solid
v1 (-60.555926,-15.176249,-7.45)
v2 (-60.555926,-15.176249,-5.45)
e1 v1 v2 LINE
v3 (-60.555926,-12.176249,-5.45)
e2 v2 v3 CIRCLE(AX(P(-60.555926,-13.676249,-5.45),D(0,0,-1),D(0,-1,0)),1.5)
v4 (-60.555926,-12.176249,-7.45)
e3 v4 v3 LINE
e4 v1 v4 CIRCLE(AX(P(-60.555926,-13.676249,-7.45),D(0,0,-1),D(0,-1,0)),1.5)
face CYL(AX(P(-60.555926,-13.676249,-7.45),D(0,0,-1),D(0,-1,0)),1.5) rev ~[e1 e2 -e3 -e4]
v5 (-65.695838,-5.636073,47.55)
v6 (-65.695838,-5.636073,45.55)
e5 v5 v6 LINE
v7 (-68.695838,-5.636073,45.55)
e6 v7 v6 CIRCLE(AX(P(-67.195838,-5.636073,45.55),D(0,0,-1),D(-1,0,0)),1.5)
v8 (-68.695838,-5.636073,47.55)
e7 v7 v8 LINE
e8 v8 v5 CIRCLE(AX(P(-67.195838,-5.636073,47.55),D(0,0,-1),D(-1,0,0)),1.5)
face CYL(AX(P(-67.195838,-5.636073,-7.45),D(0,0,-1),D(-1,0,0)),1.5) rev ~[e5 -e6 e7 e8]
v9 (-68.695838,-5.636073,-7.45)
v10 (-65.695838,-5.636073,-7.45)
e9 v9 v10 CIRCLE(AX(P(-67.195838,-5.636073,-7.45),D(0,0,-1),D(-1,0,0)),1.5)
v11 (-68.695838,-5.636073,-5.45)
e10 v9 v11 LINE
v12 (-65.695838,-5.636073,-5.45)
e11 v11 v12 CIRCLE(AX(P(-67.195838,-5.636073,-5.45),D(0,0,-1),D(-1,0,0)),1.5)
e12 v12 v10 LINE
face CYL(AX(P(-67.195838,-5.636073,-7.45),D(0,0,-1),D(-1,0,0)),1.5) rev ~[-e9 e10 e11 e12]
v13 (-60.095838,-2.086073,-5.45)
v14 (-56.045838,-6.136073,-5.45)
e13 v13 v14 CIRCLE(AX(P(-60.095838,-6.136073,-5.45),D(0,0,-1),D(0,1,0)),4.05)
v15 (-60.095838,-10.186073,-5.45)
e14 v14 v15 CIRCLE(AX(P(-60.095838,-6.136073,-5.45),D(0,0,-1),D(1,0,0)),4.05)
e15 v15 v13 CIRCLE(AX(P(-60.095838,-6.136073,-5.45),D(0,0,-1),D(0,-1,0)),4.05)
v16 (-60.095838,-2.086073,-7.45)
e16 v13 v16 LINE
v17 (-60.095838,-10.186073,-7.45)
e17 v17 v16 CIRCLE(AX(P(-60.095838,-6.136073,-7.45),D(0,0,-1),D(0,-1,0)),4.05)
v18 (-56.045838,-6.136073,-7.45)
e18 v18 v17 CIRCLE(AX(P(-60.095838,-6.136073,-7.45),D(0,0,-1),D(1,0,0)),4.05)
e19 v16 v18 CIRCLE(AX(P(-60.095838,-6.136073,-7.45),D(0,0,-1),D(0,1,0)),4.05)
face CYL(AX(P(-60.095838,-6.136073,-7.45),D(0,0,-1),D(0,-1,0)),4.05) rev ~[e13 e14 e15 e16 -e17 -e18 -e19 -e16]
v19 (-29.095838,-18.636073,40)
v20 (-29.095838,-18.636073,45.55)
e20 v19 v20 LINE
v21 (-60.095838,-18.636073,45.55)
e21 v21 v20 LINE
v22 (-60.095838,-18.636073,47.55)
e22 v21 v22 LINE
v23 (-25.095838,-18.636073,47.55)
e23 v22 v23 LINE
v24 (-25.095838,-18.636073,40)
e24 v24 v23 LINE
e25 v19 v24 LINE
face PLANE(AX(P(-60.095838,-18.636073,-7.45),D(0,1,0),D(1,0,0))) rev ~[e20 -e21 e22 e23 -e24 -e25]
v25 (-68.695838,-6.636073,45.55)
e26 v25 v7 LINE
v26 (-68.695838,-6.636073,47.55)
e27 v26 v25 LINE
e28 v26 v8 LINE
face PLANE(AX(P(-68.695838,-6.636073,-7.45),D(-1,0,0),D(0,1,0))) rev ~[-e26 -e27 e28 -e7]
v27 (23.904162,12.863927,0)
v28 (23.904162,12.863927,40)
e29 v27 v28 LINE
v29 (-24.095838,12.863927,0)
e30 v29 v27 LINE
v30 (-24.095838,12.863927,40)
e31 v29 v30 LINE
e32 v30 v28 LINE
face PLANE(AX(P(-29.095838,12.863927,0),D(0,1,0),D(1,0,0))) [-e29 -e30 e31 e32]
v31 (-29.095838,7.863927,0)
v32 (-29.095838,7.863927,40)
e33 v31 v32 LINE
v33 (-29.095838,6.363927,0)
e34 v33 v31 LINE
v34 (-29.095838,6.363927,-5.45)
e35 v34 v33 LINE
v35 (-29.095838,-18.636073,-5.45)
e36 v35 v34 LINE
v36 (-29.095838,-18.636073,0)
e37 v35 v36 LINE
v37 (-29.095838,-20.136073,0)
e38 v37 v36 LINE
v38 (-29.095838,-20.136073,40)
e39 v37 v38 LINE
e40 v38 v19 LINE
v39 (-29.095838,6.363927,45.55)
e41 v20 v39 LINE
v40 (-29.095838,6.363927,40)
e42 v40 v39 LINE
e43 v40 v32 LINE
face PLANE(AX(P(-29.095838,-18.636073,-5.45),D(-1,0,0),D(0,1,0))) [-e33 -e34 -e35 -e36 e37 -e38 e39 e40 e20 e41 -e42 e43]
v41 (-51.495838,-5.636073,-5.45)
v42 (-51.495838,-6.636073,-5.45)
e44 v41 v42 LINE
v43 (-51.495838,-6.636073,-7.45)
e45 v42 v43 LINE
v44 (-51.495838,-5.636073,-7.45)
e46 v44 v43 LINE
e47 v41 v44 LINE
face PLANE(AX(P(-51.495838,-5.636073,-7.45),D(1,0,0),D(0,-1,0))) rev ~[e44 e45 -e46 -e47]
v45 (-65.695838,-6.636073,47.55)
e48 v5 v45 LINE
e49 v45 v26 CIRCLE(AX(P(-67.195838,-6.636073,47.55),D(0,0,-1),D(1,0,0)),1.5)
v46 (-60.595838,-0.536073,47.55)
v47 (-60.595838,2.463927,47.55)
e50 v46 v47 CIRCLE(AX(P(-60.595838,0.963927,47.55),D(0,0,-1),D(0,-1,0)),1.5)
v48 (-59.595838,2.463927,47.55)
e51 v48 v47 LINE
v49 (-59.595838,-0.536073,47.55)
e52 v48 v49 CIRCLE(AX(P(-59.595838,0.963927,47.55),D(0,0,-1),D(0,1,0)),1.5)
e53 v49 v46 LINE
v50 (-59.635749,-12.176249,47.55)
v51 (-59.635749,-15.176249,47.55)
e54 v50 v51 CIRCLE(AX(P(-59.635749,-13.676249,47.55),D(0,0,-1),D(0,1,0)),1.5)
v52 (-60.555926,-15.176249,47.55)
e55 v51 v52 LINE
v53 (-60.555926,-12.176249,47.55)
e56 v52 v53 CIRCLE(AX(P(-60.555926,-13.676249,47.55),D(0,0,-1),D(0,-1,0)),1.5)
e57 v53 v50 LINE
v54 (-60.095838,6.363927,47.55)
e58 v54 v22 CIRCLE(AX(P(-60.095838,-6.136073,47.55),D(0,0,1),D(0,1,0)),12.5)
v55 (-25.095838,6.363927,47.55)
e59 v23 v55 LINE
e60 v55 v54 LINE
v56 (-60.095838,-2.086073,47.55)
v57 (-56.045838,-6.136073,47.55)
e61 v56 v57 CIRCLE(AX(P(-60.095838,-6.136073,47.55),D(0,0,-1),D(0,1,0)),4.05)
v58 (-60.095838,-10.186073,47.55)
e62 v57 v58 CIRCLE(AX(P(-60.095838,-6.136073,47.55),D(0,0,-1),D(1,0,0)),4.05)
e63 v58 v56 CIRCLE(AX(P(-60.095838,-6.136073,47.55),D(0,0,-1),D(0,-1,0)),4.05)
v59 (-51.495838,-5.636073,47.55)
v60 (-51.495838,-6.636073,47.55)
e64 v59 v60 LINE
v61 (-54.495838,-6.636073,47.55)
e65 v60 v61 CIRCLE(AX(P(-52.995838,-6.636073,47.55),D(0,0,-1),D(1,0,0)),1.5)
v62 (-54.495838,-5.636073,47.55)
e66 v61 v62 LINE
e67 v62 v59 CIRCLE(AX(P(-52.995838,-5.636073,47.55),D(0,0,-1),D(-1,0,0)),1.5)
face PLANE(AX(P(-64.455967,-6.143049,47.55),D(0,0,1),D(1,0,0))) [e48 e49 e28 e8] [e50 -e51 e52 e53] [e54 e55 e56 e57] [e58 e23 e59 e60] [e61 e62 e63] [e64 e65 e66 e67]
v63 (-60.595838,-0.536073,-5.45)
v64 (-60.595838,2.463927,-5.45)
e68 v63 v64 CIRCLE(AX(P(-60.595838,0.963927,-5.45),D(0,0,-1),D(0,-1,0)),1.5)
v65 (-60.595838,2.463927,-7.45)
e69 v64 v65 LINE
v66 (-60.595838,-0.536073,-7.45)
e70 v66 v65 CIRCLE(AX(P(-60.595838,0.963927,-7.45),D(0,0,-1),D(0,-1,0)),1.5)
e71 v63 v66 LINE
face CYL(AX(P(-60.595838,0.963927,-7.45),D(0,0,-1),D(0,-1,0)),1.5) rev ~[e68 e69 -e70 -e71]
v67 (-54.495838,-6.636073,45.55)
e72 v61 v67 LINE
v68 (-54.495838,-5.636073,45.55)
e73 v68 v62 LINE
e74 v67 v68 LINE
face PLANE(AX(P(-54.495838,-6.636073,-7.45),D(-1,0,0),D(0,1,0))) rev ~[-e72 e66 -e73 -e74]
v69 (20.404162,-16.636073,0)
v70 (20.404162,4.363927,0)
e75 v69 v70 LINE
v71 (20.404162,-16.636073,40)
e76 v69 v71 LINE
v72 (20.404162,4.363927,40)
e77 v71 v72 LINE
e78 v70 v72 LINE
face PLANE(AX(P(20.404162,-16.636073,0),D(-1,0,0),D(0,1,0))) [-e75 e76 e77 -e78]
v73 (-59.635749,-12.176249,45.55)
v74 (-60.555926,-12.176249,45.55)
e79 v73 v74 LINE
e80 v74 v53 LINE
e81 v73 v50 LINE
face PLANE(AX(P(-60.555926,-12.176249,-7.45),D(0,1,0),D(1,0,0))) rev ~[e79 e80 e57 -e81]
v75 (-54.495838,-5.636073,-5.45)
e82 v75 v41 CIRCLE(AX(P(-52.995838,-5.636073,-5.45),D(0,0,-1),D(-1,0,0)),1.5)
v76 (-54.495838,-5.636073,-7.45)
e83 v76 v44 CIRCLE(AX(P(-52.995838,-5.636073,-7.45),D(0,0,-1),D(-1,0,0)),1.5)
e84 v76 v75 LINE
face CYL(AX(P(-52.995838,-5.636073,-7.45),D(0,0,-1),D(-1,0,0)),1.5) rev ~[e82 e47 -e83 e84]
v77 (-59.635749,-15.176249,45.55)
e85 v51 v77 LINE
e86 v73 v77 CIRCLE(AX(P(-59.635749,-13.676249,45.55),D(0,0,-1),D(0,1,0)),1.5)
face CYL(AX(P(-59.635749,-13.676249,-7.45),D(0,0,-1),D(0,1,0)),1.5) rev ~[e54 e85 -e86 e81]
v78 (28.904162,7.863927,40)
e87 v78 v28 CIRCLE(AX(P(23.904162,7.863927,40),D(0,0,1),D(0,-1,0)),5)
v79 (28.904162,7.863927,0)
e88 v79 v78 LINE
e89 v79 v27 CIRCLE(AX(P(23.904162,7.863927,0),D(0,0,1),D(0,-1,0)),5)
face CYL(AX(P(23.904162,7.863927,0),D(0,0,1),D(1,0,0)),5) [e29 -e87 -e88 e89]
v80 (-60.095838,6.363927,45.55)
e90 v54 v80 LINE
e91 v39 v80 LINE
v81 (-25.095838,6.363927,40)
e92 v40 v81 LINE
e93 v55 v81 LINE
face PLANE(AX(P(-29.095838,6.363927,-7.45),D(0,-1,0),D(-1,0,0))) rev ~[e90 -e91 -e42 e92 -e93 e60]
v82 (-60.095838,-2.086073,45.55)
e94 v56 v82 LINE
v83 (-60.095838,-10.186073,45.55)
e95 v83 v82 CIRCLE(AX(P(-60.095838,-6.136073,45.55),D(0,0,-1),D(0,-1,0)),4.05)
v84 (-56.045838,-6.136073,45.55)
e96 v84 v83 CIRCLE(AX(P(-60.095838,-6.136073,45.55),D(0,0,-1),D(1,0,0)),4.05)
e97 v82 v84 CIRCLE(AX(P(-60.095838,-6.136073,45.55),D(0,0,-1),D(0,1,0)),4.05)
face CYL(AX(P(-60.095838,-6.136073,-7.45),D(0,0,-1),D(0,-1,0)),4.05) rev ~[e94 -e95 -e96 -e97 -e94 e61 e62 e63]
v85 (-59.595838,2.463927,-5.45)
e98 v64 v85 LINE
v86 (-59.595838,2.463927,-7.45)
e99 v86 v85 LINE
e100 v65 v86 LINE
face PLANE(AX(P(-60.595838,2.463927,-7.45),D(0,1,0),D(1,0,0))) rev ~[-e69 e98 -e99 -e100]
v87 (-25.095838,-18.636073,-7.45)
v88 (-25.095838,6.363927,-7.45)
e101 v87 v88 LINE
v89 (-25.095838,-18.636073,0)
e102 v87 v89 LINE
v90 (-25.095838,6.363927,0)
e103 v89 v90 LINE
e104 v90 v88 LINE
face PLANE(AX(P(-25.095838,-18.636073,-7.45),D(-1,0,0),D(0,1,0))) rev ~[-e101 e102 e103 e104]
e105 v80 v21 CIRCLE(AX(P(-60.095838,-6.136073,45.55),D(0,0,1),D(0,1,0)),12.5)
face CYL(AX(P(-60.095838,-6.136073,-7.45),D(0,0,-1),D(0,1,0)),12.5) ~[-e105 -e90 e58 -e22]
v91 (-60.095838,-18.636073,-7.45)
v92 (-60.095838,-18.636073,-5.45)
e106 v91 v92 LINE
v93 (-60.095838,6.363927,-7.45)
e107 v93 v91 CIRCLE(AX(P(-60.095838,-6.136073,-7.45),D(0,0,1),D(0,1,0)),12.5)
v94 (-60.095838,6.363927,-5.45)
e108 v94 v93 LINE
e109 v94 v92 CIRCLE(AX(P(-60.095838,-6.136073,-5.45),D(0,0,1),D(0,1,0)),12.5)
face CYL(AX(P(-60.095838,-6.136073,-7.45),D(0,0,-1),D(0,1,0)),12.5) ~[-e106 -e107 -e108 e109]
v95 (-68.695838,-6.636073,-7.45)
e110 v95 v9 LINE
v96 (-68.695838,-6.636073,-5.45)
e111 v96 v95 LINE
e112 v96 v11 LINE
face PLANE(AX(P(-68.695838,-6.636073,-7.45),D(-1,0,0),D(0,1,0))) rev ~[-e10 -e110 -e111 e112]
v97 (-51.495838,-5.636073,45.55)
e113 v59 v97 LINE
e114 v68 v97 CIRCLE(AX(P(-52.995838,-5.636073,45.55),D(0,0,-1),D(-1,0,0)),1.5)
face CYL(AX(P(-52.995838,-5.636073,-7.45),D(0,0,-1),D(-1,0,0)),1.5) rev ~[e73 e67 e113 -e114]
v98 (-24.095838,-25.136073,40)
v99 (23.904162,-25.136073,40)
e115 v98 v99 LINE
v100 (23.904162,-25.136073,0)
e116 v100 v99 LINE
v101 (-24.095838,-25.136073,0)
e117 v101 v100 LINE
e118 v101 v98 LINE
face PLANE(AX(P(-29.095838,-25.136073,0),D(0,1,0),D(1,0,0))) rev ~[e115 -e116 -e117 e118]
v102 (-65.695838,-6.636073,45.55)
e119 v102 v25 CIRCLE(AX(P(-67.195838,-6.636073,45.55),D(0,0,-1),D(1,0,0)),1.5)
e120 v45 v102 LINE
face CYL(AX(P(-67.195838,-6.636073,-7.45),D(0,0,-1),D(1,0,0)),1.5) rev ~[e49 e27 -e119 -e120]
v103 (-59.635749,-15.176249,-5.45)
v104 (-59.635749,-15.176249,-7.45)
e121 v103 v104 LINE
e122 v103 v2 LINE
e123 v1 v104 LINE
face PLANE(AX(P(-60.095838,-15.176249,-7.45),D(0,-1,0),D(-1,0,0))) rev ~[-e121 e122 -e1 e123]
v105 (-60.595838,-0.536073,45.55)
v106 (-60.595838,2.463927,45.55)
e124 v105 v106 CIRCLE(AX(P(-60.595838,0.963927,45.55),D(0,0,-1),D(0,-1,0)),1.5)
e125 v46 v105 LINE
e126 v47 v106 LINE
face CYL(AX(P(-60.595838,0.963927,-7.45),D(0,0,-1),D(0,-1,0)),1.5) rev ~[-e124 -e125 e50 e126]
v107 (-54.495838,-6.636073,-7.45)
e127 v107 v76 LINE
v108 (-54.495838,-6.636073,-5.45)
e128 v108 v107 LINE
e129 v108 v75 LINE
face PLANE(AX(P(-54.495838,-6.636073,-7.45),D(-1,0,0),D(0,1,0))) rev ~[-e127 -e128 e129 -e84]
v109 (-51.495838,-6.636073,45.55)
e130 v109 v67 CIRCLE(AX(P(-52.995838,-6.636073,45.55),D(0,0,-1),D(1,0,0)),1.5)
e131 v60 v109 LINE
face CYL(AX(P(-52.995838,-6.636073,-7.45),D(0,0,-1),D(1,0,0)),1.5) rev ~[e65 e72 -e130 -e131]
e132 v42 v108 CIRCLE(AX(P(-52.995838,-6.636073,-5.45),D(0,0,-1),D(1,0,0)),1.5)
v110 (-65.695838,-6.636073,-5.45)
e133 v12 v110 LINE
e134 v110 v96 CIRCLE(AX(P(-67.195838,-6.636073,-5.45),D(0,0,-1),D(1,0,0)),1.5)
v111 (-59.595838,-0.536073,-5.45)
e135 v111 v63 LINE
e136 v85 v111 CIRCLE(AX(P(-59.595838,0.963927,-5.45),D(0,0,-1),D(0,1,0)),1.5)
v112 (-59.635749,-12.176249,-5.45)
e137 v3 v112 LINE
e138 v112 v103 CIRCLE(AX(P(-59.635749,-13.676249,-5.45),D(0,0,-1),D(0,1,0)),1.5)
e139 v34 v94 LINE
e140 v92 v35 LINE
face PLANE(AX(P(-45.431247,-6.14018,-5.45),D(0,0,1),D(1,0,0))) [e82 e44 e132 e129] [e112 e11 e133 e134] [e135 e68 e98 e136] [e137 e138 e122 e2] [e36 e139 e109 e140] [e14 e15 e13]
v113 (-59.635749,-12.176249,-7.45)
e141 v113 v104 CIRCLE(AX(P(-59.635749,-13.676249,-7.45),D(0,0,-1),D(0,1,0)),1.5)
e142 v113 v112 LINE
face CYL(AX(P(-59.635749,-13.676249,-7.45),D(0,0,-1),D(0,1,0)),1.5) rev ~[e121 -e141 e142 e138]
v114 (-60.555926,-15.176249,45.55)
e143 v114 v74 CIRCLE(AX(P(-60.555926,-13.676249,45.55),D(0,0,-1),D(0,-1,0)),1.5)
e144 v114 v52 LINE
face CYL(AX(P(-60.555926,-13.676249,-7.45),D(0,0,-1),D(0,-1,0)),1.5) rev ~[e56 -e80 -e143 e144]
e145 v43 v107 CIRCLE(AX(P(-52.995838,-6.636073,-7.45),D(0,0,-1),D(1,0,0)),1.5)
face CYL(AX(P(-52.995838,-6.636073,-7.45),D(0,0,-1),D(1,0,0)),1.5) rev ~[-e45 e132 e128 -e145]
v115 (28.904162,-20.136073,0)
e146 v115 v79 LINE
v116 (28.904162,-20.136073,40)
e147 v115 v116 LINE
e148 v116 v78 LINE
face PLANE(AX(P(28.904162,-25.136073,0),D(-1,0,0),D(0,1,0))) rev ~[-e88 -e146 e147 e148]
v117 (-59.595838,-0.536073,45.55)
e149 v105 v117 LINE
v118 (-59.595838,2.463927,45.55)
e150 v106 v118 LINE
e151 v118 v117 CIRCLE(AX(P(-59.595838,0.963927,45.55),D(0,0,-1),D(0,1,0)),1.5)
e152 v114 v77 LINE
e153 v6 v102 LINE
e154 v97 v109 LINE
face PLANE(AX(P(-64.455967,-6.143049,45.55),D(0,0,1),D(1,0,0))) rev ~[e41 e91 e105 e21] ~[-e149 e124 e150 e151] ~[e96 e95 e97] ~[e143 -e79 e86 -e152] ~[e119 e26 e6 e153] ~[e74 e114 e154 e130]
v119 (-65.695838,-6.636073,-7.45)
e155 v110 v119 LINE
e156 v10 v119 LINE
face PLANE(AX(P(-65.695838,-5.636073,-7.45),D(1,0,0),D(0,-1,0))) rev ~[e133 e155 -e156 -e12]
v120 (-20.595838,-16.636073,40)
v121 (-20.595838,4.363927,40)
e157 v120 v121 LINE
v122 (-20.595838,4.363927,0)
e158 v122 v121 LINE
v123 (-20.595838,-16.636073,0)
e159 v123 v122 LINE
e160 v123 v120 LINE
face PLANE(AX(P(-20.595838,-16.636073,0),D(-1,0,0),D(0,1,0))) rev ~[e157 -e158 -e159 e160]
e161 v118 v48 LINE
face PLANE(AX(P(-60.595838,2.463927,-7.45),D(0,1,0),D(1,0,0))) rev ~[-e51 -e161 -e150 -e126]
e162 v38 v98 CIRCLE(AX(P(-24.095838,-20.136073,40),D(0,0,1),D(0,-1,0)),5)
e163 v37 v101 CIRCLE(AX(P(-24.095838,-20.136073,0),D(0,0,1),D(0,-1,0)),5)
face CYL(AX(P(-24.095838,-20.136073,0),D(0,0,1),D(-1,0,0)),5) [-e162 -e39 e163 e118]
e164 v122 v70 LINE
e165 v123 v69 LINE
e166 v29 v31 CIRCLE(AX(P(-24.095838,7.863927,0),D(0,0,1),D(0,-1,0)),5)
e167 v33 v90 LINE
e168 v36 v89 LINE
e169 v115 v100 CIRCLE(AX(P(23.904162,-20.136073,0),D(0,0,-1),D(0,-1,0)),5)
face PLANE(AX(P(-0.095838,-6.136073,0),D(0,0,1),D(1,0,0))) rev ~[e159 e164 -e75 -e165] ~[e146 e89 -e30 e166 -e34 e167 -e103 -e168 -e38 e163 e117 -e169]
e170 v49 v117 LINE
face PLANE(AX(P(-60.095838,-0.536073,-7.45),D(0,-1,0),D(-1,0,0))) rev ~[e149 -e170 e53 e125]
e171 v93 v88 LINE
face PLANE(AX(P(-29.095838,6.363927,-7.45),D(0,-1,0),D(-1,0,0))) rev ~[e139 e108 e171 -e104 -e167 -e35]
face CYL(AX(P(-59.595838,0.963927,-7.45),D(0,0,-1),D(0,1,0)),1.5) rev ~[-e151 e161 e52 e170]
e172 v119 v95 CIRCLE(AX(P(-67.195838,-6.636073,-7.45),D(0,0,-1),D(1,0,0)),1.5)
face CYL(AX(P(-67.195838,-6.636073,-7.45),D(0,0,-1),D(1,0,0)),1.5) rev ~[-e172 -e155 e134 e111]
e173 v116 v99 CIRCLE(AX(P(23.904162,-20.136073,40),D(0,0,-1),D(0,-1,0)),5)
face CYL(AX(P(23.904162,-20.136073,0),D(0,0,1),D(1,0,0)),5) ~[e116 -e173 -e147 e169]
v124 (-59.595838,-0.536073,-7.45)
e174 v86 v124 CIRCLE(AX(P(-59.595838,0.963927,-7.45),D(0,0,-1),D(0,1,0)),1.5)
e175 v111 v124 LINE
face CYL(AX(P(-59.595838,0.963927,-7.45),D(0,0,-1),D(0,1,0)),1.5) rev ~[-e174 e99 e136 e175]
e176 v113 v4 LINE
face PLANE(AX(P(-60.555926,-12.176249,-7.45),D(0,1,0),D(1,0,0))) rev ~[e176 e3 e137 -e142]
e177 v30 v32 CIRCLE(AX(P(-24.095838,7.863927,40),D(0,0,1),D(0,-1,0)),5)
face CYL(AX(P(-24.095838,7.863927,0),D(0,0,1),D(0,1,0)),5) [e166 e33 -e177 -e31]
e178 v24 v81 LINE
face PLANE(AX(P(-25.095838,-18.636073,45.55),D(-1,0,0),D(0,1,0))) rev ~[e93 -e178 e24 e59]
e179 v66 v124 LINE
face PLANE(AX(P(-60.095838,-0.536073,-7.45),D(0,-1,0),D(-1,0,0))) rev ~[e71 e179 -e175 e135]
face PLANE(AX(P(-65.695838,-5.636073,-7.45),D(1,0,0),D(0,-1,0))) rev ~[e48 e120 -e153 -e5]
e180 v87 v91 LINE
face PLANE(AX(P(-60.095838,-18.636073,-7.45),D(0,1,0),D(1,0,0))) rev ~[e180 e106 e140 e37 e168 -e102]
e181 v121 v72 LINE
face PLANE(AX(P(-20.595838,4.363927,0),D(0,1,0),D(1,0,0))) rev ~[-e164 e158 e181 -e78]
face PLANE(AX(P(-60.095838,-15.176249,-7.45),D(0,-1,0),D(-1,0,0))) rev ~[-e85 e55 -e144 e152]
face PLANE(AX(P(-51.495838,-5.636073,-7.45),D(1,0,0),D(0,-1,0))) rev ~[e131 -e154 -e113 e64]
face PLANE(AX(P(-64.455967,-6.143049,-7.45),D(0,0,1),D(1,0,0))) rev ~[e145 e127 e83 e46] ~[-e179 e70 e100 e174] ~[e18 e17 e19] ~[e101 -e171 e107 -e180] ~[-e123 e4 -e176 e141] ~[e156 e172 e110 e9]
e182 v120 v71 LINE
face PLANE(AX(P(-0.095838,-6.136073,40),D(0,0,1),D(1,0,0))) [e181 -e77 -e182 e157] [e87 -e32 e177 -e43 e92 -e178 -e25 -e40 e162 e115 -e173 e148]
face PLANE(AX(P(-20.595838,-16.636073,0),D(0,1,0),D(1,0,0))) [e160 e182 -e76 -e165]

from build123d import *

# Parameters (mm, degrees)
SKETCH1_W           = 58
SKETCH1_H           = 38
SKETCH1_W_2         = 41
SKETCH1_H_2         = 21
BOSS_EXTRUDE1_DEPTH = 40
SKETCH2_W           = 4
SKETCH2_H           = 25
BOSS_EXTRUDE2_DEPTH = 5.55
SKETCH2_2_W         = 4
SKETCH2_2_H         = 25
BOSS_EXTRUDE3_DEPTH = 45.55
SKETCH3_R           = 4.05
BOSS_EXTRUDE6_DEPTH = 2
BOSS_EXTRUDE7_START = -53
SKETCH3_8_R         = 4.05
BOSS_EXTRUDE7_DEPTH = 53
CUT_EXTRUDE1_START  = -51
SKETCH3_11_R        = 4.05
CUT_EXTRUDE1_DEPTH  = 51
FILLET2_R           = 5
FILLET3_R           = 5
FILLET4_R           = 5
FILLET5_R           = 5


with BuildPart() as part:
    # Sketch1 → Boss-Extrude1 (new body)
    with BuildSketch(Plane.XY):
        with Locations((-0.095837804, -6.136072895)):
            Rectangle(SKETCH1_W, SKETCH1_H)
        with Locations((-0.095837804, -6.136072895)):
            Rectangle(SKETCH1_W_2, SKETCH1_H_2, mode=Mode.SUBTRACT)
    extrude(amount=BOSS_EXTRUDE1_DEPTH)

    # Sketch2 → Boss-Extrude2 (add)
    with BuildSketch(Plane.XY.offset(40)):
        with Locations((-27.095837804, -6.136072895)):
            Rectangle(SKETCH2_W, SKETCH2_H)
    extrude(amount=BOSS_EXTRUDE2_DEPTH)

    # Sketch2<2> → Boss-Extrude3 (add)
    with BuildSketch(Plane.XY.offset(40)):
        with Locations((-27.095837804, -6.136072895)):
            Rectangle(SKETCH2_2_W, SKETCH2_2_H)
    extrude(amount=-BOSS_EXTRUDE3_DEPTH)

    # Sketch3 → Boss-Extrude6 (add)
    with BuildSketch(Plane.XY.offset(45.55)):
        with BuildLine():
            Line((-25.095837804, -18.636072895), (-25.095837804, 6.363927105))
            Line((-25.095837804, 6.363927105), (-60.095837804, 6.363927105))
            ThreePointArc((-60.095837804, 6.363927105), (-72.595837804, -6.136072895), (-60.095837804, -18.636072895))
            Line((-60.095837804, -18.636072895), (-25.095837804, -18.636072895))
        make_face()
        with BuildLine():
            Line((-51.495837804, -5.636072895), (-51.495837804, -6.636072895))
            ThreePointArc((-51.495837804, -6.636072895), (-52.995837804, -8.136072895), (-54.495837804, -6.636072895))
            Line((-54.495837804, -6.636072895), (-54.495837804, -5.636072895))
            ThreePointArc((-54.495837804, -5.636072895), (-52.995837804, -4.136072895), (-51.495837804, -5.636072895))
        make_face(mode=Mode.SUBTRACT)
        with BuildLine():
            Line((-59.635749439, -15.176248856), (-60.555926168, -15.176248856))
            ThreePointArc((-60.555926168, -15.176248856), (-62.055926168, -13.676248856), (-60.555926168, -12.176248856))
            Line((-60.555926168, -12.176248856), (-59.635749439, -12.176248856))
            ThreePointArc((-59.635749439, -12.176248856), (-58.135749439, -13.676248856), (-59.635749439, -15.176248856))
        make_face(mode=Mode.SUBTRACT)
        with Locations((-60.095837804, -6.136072895)):
            Circle(SKETCH3_R, mode=Mode.SUBTRACT)
        with BuildLine():
            Line((-59.595837804, -0.536072895), (-60.595837804, -0.536072895))
            ThreePointArc((-60.595837804, -0.536072895), (-62.095837804, 0.963927105), (-60.595837804, 2.463927105))
            Line((-60.595837804, 2.463927105), (-59.595837804, 2.463927105))
            ThreePointArc((-59.595837804, 2.463927105), (-58.095837804, 0.963927105), (-59.595837804, -0.536072895))
        make_face(mode=Mode.SUBTRACT)
        with BuildLine():
            ThreePointArc((-68.695837804, -5.636072895), (-67.195837804, -4.136072895), (-65.695837804, -5.636072895))
            Line((-65.695837804, -5.636072895), (-65.695837804, -6.636072895))
            ThreePointArc((-65.695837804, -6.636072895), (-67.195837804, -8.136072895), (-68.695837804, -6.636072895))
            Line((-68.695837804, -6.636072895), (-68.695837804, -5.636072895))
        make_face(mode=Mode.SUBTRACT)
    extrude(amount=BOSS_EXTRUDE6_DEPTH)

    # Sketch3<8> → Boss-Extrude7 (add)
    with BuildSketch(Plane.XY.offset(45.55).offset(BOSS_EXTRUDE7_START)):
        with BuildLine():
            Line((-25.095837804, -18.636072895), (-25.095837804, 6.363927105))
            Line((-25.095837804, 6.363927105), (-60.095837804, 6.363927105))
            ThreePointArc((-60.095837804, 6.363927105), (-72.595837804, -6.136072895), (-60.095837804, -18.636072895))
            Line((-60.095837804, -18.636072895), (-25.095837804, -18.636072895))
        make_face()
        with BuildLine():
            Line((-51.495837804, -5.636072895), (-51.495837804, -6.636072895))
            ThreePointArc((-51.495837804, -6.636072895), (-52.995837804, -8.136072895), (-54.495837804, -6.636072895))
            Line((-54.495837804, -6.636072895), (-54.495837804, -5.636072895))
            ThreePointArc((-54.495837804, -5.636072895), (-52.995837804, -4.136072895), (-51.495837804, -5.636072895))
        make_face(mode=Mode.SUBTRACT)
        with BuildLine():
            Line((-59.635749439, -15.176248856), (-60.555926168, -15.176248856))
            ThreePointArc((-60.555926168, -15.176248856), (-62.055926168, -13.676248856), (-60.555926168, -12.176248856))
            Line((-60.555926168, -12.176248856), (-59.635749439, -12.176248856))
            ThreePointArc((-59.635749439, -12.176248856), (-58.135749439, -13.676248856), (-59.635749439, -15.176248856))
        make_face(mode=Mode.SUBTRACT)
        with Locations((-60.095837804, -6.136072895)):
            Circle(SKETCH3_8_R, mode=Mode.SUBTRACT)
        with BuildLine():
            Line((-59.595837804, -0.536072895), (-60.595837804, -0.536072895))
            ThreePointArc((-60.595837804, -0.536072895), (-62.095837804, 0.963927105), (-60.595837804, 2.463927105))
            Line((-60.595837804, 2.463927105), (-59.595837804, 2.463927105))
            ThreePointArc((-59.595837804, 2.463927105), (-58.095837804, 0.963927105), (-59.595837804, -0.536072895))
        make_face(mode=Mode.SUBTRACT)
        with BuildLine():
            ThreePointArc((-68.695837804, -5.636072895), (-67.195837804, -4.136072895), (-65.695837804, -5.636072895))
            Line((-65.695837804, -5.636072895), (-65.695837804, -6.636072895))
            ThreePointArc((-65.695837804, -6.636072895), (-67.195837804, -8.136072895), (-68.695837804, -6.636072895))
            Line((-68.695837804, -6.636072895), (-68.695837804, -5.636072895))
        make_face(mode=Mode.SUBTRACT)
    extrude(amount=BOSS_EXTRUDE7_DEPTH)

    # Sketch3<11> → Cut-Extrude1 (cut)
    with BuildSketch(Plane.XY.offset(45.55).offset(CUT_EXTRUDE1_START)):
        with BuildLine():
            Line((-29.095837804, -18.636072895), (-29.095837804, 6.363927105))
            Line((-29.095837804, 6.363927105), (-60.095837804, 6.363927105))
            ThreePointArc((-60.095837804, 6.363927105), (-72.595837804, -6.136072895), (-60.095837804, -18.636072895))
            Line((-60.095837804, -18.636072895), (-29.095837804, -18.636072895))
        make_face()
        with BuildLine():
            Line((-59.635749439, -15.176248856), (-60.555926168, -15.176248856))
            ThreePointArc((-60.555926168, -15.176248856), (-62.055926168, -13.676248856), (-60.555926168, -12.176248856))
            Line((-60.555926168, -12.176248856), (-59.635749439, -12.176248856))
            ThreePointArc((-59.635749439, -12.176248856), (-58.135749439, -13.676248856), (-59.635749439, -15.176248856))
        make_face(mode=Mode.SUBTRACT)
        with Locations((-60.095837804, -6.136072895)):
            Circle(SKETCH3_11_R, mode=Mode.SUBTRACT)
        with BuildLine():
            Line((-59.595837804, -0.536072895), (-60.595837804, -0.536072895))
            ThreePointArc((-60.595837804, -0.536072895), (-62.095837804, 0.963927105), (-60.595837804, 2.463927105))
            Line((-60.595837804, 2.463927105), (-59.595837804, 2.463927105))
            ThreePointArc((-59.595837804, 2.463927105), (-58.095837804, 0.963927105), (-59.595837804, -0.536072895))
        make_face(mode=Mode.SUBTRACT)
        with BuildLine():
            ThreePointArc((-54.495837804, -5.636072895), (-52.995837804, -4.136072895), (-51.495837804, -5.636072895))
            Line((-51.495837804, -5.636072895), (-51.495837804, -6.636072895))
            ThreePointArc((-51.495837804, -6.636072895), (-52.995837804, -8.136072895), (-54.495837804, -6.636072895))
            Line((-54.495837804, -6.636072895), (-54.495837804, -5.636072895))
        make_face(mode=Mode.SUBTRACT)
        with BuildLine():
            ThreePointArc((-68.695837804, -5.636072895), (-67.195837804, -4.136072895), (-65.695837804, -5.636072895))
            Line((-65.695837804, -5.636072895), (-65.695837804, -6.636072895))
            ThreePointArc((-65.695837804, -6.636072895), (-67.195837804, -8.136072895), (-68.695837804, -6.636072895))
            Line((-68.695837804, -6.636072895), (-68.695837804, -5.636072895))
        make_face(mode=Mode.SUBTRACT)
    extrude(amount=CUT_EXTRUDE1_DEPTH, mode=Mode.SUBTRACT)

    # Fillet2
    fillet2_edges = [part.edges().sort_by_distance(p)[0] for p in [
        (28.904162196, 12.863927105, 20),
    ]]
    fillet(fillet2_edges, radius=FILLET2_R)

    # Fillet3
    fillet3_edges = [part.edges().sort_by_distance(p)[0] for p in [
        (28.904162196, -25.136072895, 20),
    ]]
    fillet(fillet3_edges, radius=FILLET3_R)

    # Fillet4
    fillet4_edges = [part.edges().sort_by_distance(p)[0] for p in [
        (-29.095837804, 12.863927105, 20),
    ]]
    fillet(fillet4_edges, radius=FILLET4_R)

    # Fillet5
    fillet5_edges = [part.edges().sort_by_distance(p)[0] for p in [
        (-29.095837804, -25.136072895, 20),
    ]]
    fillet(fillet5_edges, radius=FILLET5_R)


solid = part.part
